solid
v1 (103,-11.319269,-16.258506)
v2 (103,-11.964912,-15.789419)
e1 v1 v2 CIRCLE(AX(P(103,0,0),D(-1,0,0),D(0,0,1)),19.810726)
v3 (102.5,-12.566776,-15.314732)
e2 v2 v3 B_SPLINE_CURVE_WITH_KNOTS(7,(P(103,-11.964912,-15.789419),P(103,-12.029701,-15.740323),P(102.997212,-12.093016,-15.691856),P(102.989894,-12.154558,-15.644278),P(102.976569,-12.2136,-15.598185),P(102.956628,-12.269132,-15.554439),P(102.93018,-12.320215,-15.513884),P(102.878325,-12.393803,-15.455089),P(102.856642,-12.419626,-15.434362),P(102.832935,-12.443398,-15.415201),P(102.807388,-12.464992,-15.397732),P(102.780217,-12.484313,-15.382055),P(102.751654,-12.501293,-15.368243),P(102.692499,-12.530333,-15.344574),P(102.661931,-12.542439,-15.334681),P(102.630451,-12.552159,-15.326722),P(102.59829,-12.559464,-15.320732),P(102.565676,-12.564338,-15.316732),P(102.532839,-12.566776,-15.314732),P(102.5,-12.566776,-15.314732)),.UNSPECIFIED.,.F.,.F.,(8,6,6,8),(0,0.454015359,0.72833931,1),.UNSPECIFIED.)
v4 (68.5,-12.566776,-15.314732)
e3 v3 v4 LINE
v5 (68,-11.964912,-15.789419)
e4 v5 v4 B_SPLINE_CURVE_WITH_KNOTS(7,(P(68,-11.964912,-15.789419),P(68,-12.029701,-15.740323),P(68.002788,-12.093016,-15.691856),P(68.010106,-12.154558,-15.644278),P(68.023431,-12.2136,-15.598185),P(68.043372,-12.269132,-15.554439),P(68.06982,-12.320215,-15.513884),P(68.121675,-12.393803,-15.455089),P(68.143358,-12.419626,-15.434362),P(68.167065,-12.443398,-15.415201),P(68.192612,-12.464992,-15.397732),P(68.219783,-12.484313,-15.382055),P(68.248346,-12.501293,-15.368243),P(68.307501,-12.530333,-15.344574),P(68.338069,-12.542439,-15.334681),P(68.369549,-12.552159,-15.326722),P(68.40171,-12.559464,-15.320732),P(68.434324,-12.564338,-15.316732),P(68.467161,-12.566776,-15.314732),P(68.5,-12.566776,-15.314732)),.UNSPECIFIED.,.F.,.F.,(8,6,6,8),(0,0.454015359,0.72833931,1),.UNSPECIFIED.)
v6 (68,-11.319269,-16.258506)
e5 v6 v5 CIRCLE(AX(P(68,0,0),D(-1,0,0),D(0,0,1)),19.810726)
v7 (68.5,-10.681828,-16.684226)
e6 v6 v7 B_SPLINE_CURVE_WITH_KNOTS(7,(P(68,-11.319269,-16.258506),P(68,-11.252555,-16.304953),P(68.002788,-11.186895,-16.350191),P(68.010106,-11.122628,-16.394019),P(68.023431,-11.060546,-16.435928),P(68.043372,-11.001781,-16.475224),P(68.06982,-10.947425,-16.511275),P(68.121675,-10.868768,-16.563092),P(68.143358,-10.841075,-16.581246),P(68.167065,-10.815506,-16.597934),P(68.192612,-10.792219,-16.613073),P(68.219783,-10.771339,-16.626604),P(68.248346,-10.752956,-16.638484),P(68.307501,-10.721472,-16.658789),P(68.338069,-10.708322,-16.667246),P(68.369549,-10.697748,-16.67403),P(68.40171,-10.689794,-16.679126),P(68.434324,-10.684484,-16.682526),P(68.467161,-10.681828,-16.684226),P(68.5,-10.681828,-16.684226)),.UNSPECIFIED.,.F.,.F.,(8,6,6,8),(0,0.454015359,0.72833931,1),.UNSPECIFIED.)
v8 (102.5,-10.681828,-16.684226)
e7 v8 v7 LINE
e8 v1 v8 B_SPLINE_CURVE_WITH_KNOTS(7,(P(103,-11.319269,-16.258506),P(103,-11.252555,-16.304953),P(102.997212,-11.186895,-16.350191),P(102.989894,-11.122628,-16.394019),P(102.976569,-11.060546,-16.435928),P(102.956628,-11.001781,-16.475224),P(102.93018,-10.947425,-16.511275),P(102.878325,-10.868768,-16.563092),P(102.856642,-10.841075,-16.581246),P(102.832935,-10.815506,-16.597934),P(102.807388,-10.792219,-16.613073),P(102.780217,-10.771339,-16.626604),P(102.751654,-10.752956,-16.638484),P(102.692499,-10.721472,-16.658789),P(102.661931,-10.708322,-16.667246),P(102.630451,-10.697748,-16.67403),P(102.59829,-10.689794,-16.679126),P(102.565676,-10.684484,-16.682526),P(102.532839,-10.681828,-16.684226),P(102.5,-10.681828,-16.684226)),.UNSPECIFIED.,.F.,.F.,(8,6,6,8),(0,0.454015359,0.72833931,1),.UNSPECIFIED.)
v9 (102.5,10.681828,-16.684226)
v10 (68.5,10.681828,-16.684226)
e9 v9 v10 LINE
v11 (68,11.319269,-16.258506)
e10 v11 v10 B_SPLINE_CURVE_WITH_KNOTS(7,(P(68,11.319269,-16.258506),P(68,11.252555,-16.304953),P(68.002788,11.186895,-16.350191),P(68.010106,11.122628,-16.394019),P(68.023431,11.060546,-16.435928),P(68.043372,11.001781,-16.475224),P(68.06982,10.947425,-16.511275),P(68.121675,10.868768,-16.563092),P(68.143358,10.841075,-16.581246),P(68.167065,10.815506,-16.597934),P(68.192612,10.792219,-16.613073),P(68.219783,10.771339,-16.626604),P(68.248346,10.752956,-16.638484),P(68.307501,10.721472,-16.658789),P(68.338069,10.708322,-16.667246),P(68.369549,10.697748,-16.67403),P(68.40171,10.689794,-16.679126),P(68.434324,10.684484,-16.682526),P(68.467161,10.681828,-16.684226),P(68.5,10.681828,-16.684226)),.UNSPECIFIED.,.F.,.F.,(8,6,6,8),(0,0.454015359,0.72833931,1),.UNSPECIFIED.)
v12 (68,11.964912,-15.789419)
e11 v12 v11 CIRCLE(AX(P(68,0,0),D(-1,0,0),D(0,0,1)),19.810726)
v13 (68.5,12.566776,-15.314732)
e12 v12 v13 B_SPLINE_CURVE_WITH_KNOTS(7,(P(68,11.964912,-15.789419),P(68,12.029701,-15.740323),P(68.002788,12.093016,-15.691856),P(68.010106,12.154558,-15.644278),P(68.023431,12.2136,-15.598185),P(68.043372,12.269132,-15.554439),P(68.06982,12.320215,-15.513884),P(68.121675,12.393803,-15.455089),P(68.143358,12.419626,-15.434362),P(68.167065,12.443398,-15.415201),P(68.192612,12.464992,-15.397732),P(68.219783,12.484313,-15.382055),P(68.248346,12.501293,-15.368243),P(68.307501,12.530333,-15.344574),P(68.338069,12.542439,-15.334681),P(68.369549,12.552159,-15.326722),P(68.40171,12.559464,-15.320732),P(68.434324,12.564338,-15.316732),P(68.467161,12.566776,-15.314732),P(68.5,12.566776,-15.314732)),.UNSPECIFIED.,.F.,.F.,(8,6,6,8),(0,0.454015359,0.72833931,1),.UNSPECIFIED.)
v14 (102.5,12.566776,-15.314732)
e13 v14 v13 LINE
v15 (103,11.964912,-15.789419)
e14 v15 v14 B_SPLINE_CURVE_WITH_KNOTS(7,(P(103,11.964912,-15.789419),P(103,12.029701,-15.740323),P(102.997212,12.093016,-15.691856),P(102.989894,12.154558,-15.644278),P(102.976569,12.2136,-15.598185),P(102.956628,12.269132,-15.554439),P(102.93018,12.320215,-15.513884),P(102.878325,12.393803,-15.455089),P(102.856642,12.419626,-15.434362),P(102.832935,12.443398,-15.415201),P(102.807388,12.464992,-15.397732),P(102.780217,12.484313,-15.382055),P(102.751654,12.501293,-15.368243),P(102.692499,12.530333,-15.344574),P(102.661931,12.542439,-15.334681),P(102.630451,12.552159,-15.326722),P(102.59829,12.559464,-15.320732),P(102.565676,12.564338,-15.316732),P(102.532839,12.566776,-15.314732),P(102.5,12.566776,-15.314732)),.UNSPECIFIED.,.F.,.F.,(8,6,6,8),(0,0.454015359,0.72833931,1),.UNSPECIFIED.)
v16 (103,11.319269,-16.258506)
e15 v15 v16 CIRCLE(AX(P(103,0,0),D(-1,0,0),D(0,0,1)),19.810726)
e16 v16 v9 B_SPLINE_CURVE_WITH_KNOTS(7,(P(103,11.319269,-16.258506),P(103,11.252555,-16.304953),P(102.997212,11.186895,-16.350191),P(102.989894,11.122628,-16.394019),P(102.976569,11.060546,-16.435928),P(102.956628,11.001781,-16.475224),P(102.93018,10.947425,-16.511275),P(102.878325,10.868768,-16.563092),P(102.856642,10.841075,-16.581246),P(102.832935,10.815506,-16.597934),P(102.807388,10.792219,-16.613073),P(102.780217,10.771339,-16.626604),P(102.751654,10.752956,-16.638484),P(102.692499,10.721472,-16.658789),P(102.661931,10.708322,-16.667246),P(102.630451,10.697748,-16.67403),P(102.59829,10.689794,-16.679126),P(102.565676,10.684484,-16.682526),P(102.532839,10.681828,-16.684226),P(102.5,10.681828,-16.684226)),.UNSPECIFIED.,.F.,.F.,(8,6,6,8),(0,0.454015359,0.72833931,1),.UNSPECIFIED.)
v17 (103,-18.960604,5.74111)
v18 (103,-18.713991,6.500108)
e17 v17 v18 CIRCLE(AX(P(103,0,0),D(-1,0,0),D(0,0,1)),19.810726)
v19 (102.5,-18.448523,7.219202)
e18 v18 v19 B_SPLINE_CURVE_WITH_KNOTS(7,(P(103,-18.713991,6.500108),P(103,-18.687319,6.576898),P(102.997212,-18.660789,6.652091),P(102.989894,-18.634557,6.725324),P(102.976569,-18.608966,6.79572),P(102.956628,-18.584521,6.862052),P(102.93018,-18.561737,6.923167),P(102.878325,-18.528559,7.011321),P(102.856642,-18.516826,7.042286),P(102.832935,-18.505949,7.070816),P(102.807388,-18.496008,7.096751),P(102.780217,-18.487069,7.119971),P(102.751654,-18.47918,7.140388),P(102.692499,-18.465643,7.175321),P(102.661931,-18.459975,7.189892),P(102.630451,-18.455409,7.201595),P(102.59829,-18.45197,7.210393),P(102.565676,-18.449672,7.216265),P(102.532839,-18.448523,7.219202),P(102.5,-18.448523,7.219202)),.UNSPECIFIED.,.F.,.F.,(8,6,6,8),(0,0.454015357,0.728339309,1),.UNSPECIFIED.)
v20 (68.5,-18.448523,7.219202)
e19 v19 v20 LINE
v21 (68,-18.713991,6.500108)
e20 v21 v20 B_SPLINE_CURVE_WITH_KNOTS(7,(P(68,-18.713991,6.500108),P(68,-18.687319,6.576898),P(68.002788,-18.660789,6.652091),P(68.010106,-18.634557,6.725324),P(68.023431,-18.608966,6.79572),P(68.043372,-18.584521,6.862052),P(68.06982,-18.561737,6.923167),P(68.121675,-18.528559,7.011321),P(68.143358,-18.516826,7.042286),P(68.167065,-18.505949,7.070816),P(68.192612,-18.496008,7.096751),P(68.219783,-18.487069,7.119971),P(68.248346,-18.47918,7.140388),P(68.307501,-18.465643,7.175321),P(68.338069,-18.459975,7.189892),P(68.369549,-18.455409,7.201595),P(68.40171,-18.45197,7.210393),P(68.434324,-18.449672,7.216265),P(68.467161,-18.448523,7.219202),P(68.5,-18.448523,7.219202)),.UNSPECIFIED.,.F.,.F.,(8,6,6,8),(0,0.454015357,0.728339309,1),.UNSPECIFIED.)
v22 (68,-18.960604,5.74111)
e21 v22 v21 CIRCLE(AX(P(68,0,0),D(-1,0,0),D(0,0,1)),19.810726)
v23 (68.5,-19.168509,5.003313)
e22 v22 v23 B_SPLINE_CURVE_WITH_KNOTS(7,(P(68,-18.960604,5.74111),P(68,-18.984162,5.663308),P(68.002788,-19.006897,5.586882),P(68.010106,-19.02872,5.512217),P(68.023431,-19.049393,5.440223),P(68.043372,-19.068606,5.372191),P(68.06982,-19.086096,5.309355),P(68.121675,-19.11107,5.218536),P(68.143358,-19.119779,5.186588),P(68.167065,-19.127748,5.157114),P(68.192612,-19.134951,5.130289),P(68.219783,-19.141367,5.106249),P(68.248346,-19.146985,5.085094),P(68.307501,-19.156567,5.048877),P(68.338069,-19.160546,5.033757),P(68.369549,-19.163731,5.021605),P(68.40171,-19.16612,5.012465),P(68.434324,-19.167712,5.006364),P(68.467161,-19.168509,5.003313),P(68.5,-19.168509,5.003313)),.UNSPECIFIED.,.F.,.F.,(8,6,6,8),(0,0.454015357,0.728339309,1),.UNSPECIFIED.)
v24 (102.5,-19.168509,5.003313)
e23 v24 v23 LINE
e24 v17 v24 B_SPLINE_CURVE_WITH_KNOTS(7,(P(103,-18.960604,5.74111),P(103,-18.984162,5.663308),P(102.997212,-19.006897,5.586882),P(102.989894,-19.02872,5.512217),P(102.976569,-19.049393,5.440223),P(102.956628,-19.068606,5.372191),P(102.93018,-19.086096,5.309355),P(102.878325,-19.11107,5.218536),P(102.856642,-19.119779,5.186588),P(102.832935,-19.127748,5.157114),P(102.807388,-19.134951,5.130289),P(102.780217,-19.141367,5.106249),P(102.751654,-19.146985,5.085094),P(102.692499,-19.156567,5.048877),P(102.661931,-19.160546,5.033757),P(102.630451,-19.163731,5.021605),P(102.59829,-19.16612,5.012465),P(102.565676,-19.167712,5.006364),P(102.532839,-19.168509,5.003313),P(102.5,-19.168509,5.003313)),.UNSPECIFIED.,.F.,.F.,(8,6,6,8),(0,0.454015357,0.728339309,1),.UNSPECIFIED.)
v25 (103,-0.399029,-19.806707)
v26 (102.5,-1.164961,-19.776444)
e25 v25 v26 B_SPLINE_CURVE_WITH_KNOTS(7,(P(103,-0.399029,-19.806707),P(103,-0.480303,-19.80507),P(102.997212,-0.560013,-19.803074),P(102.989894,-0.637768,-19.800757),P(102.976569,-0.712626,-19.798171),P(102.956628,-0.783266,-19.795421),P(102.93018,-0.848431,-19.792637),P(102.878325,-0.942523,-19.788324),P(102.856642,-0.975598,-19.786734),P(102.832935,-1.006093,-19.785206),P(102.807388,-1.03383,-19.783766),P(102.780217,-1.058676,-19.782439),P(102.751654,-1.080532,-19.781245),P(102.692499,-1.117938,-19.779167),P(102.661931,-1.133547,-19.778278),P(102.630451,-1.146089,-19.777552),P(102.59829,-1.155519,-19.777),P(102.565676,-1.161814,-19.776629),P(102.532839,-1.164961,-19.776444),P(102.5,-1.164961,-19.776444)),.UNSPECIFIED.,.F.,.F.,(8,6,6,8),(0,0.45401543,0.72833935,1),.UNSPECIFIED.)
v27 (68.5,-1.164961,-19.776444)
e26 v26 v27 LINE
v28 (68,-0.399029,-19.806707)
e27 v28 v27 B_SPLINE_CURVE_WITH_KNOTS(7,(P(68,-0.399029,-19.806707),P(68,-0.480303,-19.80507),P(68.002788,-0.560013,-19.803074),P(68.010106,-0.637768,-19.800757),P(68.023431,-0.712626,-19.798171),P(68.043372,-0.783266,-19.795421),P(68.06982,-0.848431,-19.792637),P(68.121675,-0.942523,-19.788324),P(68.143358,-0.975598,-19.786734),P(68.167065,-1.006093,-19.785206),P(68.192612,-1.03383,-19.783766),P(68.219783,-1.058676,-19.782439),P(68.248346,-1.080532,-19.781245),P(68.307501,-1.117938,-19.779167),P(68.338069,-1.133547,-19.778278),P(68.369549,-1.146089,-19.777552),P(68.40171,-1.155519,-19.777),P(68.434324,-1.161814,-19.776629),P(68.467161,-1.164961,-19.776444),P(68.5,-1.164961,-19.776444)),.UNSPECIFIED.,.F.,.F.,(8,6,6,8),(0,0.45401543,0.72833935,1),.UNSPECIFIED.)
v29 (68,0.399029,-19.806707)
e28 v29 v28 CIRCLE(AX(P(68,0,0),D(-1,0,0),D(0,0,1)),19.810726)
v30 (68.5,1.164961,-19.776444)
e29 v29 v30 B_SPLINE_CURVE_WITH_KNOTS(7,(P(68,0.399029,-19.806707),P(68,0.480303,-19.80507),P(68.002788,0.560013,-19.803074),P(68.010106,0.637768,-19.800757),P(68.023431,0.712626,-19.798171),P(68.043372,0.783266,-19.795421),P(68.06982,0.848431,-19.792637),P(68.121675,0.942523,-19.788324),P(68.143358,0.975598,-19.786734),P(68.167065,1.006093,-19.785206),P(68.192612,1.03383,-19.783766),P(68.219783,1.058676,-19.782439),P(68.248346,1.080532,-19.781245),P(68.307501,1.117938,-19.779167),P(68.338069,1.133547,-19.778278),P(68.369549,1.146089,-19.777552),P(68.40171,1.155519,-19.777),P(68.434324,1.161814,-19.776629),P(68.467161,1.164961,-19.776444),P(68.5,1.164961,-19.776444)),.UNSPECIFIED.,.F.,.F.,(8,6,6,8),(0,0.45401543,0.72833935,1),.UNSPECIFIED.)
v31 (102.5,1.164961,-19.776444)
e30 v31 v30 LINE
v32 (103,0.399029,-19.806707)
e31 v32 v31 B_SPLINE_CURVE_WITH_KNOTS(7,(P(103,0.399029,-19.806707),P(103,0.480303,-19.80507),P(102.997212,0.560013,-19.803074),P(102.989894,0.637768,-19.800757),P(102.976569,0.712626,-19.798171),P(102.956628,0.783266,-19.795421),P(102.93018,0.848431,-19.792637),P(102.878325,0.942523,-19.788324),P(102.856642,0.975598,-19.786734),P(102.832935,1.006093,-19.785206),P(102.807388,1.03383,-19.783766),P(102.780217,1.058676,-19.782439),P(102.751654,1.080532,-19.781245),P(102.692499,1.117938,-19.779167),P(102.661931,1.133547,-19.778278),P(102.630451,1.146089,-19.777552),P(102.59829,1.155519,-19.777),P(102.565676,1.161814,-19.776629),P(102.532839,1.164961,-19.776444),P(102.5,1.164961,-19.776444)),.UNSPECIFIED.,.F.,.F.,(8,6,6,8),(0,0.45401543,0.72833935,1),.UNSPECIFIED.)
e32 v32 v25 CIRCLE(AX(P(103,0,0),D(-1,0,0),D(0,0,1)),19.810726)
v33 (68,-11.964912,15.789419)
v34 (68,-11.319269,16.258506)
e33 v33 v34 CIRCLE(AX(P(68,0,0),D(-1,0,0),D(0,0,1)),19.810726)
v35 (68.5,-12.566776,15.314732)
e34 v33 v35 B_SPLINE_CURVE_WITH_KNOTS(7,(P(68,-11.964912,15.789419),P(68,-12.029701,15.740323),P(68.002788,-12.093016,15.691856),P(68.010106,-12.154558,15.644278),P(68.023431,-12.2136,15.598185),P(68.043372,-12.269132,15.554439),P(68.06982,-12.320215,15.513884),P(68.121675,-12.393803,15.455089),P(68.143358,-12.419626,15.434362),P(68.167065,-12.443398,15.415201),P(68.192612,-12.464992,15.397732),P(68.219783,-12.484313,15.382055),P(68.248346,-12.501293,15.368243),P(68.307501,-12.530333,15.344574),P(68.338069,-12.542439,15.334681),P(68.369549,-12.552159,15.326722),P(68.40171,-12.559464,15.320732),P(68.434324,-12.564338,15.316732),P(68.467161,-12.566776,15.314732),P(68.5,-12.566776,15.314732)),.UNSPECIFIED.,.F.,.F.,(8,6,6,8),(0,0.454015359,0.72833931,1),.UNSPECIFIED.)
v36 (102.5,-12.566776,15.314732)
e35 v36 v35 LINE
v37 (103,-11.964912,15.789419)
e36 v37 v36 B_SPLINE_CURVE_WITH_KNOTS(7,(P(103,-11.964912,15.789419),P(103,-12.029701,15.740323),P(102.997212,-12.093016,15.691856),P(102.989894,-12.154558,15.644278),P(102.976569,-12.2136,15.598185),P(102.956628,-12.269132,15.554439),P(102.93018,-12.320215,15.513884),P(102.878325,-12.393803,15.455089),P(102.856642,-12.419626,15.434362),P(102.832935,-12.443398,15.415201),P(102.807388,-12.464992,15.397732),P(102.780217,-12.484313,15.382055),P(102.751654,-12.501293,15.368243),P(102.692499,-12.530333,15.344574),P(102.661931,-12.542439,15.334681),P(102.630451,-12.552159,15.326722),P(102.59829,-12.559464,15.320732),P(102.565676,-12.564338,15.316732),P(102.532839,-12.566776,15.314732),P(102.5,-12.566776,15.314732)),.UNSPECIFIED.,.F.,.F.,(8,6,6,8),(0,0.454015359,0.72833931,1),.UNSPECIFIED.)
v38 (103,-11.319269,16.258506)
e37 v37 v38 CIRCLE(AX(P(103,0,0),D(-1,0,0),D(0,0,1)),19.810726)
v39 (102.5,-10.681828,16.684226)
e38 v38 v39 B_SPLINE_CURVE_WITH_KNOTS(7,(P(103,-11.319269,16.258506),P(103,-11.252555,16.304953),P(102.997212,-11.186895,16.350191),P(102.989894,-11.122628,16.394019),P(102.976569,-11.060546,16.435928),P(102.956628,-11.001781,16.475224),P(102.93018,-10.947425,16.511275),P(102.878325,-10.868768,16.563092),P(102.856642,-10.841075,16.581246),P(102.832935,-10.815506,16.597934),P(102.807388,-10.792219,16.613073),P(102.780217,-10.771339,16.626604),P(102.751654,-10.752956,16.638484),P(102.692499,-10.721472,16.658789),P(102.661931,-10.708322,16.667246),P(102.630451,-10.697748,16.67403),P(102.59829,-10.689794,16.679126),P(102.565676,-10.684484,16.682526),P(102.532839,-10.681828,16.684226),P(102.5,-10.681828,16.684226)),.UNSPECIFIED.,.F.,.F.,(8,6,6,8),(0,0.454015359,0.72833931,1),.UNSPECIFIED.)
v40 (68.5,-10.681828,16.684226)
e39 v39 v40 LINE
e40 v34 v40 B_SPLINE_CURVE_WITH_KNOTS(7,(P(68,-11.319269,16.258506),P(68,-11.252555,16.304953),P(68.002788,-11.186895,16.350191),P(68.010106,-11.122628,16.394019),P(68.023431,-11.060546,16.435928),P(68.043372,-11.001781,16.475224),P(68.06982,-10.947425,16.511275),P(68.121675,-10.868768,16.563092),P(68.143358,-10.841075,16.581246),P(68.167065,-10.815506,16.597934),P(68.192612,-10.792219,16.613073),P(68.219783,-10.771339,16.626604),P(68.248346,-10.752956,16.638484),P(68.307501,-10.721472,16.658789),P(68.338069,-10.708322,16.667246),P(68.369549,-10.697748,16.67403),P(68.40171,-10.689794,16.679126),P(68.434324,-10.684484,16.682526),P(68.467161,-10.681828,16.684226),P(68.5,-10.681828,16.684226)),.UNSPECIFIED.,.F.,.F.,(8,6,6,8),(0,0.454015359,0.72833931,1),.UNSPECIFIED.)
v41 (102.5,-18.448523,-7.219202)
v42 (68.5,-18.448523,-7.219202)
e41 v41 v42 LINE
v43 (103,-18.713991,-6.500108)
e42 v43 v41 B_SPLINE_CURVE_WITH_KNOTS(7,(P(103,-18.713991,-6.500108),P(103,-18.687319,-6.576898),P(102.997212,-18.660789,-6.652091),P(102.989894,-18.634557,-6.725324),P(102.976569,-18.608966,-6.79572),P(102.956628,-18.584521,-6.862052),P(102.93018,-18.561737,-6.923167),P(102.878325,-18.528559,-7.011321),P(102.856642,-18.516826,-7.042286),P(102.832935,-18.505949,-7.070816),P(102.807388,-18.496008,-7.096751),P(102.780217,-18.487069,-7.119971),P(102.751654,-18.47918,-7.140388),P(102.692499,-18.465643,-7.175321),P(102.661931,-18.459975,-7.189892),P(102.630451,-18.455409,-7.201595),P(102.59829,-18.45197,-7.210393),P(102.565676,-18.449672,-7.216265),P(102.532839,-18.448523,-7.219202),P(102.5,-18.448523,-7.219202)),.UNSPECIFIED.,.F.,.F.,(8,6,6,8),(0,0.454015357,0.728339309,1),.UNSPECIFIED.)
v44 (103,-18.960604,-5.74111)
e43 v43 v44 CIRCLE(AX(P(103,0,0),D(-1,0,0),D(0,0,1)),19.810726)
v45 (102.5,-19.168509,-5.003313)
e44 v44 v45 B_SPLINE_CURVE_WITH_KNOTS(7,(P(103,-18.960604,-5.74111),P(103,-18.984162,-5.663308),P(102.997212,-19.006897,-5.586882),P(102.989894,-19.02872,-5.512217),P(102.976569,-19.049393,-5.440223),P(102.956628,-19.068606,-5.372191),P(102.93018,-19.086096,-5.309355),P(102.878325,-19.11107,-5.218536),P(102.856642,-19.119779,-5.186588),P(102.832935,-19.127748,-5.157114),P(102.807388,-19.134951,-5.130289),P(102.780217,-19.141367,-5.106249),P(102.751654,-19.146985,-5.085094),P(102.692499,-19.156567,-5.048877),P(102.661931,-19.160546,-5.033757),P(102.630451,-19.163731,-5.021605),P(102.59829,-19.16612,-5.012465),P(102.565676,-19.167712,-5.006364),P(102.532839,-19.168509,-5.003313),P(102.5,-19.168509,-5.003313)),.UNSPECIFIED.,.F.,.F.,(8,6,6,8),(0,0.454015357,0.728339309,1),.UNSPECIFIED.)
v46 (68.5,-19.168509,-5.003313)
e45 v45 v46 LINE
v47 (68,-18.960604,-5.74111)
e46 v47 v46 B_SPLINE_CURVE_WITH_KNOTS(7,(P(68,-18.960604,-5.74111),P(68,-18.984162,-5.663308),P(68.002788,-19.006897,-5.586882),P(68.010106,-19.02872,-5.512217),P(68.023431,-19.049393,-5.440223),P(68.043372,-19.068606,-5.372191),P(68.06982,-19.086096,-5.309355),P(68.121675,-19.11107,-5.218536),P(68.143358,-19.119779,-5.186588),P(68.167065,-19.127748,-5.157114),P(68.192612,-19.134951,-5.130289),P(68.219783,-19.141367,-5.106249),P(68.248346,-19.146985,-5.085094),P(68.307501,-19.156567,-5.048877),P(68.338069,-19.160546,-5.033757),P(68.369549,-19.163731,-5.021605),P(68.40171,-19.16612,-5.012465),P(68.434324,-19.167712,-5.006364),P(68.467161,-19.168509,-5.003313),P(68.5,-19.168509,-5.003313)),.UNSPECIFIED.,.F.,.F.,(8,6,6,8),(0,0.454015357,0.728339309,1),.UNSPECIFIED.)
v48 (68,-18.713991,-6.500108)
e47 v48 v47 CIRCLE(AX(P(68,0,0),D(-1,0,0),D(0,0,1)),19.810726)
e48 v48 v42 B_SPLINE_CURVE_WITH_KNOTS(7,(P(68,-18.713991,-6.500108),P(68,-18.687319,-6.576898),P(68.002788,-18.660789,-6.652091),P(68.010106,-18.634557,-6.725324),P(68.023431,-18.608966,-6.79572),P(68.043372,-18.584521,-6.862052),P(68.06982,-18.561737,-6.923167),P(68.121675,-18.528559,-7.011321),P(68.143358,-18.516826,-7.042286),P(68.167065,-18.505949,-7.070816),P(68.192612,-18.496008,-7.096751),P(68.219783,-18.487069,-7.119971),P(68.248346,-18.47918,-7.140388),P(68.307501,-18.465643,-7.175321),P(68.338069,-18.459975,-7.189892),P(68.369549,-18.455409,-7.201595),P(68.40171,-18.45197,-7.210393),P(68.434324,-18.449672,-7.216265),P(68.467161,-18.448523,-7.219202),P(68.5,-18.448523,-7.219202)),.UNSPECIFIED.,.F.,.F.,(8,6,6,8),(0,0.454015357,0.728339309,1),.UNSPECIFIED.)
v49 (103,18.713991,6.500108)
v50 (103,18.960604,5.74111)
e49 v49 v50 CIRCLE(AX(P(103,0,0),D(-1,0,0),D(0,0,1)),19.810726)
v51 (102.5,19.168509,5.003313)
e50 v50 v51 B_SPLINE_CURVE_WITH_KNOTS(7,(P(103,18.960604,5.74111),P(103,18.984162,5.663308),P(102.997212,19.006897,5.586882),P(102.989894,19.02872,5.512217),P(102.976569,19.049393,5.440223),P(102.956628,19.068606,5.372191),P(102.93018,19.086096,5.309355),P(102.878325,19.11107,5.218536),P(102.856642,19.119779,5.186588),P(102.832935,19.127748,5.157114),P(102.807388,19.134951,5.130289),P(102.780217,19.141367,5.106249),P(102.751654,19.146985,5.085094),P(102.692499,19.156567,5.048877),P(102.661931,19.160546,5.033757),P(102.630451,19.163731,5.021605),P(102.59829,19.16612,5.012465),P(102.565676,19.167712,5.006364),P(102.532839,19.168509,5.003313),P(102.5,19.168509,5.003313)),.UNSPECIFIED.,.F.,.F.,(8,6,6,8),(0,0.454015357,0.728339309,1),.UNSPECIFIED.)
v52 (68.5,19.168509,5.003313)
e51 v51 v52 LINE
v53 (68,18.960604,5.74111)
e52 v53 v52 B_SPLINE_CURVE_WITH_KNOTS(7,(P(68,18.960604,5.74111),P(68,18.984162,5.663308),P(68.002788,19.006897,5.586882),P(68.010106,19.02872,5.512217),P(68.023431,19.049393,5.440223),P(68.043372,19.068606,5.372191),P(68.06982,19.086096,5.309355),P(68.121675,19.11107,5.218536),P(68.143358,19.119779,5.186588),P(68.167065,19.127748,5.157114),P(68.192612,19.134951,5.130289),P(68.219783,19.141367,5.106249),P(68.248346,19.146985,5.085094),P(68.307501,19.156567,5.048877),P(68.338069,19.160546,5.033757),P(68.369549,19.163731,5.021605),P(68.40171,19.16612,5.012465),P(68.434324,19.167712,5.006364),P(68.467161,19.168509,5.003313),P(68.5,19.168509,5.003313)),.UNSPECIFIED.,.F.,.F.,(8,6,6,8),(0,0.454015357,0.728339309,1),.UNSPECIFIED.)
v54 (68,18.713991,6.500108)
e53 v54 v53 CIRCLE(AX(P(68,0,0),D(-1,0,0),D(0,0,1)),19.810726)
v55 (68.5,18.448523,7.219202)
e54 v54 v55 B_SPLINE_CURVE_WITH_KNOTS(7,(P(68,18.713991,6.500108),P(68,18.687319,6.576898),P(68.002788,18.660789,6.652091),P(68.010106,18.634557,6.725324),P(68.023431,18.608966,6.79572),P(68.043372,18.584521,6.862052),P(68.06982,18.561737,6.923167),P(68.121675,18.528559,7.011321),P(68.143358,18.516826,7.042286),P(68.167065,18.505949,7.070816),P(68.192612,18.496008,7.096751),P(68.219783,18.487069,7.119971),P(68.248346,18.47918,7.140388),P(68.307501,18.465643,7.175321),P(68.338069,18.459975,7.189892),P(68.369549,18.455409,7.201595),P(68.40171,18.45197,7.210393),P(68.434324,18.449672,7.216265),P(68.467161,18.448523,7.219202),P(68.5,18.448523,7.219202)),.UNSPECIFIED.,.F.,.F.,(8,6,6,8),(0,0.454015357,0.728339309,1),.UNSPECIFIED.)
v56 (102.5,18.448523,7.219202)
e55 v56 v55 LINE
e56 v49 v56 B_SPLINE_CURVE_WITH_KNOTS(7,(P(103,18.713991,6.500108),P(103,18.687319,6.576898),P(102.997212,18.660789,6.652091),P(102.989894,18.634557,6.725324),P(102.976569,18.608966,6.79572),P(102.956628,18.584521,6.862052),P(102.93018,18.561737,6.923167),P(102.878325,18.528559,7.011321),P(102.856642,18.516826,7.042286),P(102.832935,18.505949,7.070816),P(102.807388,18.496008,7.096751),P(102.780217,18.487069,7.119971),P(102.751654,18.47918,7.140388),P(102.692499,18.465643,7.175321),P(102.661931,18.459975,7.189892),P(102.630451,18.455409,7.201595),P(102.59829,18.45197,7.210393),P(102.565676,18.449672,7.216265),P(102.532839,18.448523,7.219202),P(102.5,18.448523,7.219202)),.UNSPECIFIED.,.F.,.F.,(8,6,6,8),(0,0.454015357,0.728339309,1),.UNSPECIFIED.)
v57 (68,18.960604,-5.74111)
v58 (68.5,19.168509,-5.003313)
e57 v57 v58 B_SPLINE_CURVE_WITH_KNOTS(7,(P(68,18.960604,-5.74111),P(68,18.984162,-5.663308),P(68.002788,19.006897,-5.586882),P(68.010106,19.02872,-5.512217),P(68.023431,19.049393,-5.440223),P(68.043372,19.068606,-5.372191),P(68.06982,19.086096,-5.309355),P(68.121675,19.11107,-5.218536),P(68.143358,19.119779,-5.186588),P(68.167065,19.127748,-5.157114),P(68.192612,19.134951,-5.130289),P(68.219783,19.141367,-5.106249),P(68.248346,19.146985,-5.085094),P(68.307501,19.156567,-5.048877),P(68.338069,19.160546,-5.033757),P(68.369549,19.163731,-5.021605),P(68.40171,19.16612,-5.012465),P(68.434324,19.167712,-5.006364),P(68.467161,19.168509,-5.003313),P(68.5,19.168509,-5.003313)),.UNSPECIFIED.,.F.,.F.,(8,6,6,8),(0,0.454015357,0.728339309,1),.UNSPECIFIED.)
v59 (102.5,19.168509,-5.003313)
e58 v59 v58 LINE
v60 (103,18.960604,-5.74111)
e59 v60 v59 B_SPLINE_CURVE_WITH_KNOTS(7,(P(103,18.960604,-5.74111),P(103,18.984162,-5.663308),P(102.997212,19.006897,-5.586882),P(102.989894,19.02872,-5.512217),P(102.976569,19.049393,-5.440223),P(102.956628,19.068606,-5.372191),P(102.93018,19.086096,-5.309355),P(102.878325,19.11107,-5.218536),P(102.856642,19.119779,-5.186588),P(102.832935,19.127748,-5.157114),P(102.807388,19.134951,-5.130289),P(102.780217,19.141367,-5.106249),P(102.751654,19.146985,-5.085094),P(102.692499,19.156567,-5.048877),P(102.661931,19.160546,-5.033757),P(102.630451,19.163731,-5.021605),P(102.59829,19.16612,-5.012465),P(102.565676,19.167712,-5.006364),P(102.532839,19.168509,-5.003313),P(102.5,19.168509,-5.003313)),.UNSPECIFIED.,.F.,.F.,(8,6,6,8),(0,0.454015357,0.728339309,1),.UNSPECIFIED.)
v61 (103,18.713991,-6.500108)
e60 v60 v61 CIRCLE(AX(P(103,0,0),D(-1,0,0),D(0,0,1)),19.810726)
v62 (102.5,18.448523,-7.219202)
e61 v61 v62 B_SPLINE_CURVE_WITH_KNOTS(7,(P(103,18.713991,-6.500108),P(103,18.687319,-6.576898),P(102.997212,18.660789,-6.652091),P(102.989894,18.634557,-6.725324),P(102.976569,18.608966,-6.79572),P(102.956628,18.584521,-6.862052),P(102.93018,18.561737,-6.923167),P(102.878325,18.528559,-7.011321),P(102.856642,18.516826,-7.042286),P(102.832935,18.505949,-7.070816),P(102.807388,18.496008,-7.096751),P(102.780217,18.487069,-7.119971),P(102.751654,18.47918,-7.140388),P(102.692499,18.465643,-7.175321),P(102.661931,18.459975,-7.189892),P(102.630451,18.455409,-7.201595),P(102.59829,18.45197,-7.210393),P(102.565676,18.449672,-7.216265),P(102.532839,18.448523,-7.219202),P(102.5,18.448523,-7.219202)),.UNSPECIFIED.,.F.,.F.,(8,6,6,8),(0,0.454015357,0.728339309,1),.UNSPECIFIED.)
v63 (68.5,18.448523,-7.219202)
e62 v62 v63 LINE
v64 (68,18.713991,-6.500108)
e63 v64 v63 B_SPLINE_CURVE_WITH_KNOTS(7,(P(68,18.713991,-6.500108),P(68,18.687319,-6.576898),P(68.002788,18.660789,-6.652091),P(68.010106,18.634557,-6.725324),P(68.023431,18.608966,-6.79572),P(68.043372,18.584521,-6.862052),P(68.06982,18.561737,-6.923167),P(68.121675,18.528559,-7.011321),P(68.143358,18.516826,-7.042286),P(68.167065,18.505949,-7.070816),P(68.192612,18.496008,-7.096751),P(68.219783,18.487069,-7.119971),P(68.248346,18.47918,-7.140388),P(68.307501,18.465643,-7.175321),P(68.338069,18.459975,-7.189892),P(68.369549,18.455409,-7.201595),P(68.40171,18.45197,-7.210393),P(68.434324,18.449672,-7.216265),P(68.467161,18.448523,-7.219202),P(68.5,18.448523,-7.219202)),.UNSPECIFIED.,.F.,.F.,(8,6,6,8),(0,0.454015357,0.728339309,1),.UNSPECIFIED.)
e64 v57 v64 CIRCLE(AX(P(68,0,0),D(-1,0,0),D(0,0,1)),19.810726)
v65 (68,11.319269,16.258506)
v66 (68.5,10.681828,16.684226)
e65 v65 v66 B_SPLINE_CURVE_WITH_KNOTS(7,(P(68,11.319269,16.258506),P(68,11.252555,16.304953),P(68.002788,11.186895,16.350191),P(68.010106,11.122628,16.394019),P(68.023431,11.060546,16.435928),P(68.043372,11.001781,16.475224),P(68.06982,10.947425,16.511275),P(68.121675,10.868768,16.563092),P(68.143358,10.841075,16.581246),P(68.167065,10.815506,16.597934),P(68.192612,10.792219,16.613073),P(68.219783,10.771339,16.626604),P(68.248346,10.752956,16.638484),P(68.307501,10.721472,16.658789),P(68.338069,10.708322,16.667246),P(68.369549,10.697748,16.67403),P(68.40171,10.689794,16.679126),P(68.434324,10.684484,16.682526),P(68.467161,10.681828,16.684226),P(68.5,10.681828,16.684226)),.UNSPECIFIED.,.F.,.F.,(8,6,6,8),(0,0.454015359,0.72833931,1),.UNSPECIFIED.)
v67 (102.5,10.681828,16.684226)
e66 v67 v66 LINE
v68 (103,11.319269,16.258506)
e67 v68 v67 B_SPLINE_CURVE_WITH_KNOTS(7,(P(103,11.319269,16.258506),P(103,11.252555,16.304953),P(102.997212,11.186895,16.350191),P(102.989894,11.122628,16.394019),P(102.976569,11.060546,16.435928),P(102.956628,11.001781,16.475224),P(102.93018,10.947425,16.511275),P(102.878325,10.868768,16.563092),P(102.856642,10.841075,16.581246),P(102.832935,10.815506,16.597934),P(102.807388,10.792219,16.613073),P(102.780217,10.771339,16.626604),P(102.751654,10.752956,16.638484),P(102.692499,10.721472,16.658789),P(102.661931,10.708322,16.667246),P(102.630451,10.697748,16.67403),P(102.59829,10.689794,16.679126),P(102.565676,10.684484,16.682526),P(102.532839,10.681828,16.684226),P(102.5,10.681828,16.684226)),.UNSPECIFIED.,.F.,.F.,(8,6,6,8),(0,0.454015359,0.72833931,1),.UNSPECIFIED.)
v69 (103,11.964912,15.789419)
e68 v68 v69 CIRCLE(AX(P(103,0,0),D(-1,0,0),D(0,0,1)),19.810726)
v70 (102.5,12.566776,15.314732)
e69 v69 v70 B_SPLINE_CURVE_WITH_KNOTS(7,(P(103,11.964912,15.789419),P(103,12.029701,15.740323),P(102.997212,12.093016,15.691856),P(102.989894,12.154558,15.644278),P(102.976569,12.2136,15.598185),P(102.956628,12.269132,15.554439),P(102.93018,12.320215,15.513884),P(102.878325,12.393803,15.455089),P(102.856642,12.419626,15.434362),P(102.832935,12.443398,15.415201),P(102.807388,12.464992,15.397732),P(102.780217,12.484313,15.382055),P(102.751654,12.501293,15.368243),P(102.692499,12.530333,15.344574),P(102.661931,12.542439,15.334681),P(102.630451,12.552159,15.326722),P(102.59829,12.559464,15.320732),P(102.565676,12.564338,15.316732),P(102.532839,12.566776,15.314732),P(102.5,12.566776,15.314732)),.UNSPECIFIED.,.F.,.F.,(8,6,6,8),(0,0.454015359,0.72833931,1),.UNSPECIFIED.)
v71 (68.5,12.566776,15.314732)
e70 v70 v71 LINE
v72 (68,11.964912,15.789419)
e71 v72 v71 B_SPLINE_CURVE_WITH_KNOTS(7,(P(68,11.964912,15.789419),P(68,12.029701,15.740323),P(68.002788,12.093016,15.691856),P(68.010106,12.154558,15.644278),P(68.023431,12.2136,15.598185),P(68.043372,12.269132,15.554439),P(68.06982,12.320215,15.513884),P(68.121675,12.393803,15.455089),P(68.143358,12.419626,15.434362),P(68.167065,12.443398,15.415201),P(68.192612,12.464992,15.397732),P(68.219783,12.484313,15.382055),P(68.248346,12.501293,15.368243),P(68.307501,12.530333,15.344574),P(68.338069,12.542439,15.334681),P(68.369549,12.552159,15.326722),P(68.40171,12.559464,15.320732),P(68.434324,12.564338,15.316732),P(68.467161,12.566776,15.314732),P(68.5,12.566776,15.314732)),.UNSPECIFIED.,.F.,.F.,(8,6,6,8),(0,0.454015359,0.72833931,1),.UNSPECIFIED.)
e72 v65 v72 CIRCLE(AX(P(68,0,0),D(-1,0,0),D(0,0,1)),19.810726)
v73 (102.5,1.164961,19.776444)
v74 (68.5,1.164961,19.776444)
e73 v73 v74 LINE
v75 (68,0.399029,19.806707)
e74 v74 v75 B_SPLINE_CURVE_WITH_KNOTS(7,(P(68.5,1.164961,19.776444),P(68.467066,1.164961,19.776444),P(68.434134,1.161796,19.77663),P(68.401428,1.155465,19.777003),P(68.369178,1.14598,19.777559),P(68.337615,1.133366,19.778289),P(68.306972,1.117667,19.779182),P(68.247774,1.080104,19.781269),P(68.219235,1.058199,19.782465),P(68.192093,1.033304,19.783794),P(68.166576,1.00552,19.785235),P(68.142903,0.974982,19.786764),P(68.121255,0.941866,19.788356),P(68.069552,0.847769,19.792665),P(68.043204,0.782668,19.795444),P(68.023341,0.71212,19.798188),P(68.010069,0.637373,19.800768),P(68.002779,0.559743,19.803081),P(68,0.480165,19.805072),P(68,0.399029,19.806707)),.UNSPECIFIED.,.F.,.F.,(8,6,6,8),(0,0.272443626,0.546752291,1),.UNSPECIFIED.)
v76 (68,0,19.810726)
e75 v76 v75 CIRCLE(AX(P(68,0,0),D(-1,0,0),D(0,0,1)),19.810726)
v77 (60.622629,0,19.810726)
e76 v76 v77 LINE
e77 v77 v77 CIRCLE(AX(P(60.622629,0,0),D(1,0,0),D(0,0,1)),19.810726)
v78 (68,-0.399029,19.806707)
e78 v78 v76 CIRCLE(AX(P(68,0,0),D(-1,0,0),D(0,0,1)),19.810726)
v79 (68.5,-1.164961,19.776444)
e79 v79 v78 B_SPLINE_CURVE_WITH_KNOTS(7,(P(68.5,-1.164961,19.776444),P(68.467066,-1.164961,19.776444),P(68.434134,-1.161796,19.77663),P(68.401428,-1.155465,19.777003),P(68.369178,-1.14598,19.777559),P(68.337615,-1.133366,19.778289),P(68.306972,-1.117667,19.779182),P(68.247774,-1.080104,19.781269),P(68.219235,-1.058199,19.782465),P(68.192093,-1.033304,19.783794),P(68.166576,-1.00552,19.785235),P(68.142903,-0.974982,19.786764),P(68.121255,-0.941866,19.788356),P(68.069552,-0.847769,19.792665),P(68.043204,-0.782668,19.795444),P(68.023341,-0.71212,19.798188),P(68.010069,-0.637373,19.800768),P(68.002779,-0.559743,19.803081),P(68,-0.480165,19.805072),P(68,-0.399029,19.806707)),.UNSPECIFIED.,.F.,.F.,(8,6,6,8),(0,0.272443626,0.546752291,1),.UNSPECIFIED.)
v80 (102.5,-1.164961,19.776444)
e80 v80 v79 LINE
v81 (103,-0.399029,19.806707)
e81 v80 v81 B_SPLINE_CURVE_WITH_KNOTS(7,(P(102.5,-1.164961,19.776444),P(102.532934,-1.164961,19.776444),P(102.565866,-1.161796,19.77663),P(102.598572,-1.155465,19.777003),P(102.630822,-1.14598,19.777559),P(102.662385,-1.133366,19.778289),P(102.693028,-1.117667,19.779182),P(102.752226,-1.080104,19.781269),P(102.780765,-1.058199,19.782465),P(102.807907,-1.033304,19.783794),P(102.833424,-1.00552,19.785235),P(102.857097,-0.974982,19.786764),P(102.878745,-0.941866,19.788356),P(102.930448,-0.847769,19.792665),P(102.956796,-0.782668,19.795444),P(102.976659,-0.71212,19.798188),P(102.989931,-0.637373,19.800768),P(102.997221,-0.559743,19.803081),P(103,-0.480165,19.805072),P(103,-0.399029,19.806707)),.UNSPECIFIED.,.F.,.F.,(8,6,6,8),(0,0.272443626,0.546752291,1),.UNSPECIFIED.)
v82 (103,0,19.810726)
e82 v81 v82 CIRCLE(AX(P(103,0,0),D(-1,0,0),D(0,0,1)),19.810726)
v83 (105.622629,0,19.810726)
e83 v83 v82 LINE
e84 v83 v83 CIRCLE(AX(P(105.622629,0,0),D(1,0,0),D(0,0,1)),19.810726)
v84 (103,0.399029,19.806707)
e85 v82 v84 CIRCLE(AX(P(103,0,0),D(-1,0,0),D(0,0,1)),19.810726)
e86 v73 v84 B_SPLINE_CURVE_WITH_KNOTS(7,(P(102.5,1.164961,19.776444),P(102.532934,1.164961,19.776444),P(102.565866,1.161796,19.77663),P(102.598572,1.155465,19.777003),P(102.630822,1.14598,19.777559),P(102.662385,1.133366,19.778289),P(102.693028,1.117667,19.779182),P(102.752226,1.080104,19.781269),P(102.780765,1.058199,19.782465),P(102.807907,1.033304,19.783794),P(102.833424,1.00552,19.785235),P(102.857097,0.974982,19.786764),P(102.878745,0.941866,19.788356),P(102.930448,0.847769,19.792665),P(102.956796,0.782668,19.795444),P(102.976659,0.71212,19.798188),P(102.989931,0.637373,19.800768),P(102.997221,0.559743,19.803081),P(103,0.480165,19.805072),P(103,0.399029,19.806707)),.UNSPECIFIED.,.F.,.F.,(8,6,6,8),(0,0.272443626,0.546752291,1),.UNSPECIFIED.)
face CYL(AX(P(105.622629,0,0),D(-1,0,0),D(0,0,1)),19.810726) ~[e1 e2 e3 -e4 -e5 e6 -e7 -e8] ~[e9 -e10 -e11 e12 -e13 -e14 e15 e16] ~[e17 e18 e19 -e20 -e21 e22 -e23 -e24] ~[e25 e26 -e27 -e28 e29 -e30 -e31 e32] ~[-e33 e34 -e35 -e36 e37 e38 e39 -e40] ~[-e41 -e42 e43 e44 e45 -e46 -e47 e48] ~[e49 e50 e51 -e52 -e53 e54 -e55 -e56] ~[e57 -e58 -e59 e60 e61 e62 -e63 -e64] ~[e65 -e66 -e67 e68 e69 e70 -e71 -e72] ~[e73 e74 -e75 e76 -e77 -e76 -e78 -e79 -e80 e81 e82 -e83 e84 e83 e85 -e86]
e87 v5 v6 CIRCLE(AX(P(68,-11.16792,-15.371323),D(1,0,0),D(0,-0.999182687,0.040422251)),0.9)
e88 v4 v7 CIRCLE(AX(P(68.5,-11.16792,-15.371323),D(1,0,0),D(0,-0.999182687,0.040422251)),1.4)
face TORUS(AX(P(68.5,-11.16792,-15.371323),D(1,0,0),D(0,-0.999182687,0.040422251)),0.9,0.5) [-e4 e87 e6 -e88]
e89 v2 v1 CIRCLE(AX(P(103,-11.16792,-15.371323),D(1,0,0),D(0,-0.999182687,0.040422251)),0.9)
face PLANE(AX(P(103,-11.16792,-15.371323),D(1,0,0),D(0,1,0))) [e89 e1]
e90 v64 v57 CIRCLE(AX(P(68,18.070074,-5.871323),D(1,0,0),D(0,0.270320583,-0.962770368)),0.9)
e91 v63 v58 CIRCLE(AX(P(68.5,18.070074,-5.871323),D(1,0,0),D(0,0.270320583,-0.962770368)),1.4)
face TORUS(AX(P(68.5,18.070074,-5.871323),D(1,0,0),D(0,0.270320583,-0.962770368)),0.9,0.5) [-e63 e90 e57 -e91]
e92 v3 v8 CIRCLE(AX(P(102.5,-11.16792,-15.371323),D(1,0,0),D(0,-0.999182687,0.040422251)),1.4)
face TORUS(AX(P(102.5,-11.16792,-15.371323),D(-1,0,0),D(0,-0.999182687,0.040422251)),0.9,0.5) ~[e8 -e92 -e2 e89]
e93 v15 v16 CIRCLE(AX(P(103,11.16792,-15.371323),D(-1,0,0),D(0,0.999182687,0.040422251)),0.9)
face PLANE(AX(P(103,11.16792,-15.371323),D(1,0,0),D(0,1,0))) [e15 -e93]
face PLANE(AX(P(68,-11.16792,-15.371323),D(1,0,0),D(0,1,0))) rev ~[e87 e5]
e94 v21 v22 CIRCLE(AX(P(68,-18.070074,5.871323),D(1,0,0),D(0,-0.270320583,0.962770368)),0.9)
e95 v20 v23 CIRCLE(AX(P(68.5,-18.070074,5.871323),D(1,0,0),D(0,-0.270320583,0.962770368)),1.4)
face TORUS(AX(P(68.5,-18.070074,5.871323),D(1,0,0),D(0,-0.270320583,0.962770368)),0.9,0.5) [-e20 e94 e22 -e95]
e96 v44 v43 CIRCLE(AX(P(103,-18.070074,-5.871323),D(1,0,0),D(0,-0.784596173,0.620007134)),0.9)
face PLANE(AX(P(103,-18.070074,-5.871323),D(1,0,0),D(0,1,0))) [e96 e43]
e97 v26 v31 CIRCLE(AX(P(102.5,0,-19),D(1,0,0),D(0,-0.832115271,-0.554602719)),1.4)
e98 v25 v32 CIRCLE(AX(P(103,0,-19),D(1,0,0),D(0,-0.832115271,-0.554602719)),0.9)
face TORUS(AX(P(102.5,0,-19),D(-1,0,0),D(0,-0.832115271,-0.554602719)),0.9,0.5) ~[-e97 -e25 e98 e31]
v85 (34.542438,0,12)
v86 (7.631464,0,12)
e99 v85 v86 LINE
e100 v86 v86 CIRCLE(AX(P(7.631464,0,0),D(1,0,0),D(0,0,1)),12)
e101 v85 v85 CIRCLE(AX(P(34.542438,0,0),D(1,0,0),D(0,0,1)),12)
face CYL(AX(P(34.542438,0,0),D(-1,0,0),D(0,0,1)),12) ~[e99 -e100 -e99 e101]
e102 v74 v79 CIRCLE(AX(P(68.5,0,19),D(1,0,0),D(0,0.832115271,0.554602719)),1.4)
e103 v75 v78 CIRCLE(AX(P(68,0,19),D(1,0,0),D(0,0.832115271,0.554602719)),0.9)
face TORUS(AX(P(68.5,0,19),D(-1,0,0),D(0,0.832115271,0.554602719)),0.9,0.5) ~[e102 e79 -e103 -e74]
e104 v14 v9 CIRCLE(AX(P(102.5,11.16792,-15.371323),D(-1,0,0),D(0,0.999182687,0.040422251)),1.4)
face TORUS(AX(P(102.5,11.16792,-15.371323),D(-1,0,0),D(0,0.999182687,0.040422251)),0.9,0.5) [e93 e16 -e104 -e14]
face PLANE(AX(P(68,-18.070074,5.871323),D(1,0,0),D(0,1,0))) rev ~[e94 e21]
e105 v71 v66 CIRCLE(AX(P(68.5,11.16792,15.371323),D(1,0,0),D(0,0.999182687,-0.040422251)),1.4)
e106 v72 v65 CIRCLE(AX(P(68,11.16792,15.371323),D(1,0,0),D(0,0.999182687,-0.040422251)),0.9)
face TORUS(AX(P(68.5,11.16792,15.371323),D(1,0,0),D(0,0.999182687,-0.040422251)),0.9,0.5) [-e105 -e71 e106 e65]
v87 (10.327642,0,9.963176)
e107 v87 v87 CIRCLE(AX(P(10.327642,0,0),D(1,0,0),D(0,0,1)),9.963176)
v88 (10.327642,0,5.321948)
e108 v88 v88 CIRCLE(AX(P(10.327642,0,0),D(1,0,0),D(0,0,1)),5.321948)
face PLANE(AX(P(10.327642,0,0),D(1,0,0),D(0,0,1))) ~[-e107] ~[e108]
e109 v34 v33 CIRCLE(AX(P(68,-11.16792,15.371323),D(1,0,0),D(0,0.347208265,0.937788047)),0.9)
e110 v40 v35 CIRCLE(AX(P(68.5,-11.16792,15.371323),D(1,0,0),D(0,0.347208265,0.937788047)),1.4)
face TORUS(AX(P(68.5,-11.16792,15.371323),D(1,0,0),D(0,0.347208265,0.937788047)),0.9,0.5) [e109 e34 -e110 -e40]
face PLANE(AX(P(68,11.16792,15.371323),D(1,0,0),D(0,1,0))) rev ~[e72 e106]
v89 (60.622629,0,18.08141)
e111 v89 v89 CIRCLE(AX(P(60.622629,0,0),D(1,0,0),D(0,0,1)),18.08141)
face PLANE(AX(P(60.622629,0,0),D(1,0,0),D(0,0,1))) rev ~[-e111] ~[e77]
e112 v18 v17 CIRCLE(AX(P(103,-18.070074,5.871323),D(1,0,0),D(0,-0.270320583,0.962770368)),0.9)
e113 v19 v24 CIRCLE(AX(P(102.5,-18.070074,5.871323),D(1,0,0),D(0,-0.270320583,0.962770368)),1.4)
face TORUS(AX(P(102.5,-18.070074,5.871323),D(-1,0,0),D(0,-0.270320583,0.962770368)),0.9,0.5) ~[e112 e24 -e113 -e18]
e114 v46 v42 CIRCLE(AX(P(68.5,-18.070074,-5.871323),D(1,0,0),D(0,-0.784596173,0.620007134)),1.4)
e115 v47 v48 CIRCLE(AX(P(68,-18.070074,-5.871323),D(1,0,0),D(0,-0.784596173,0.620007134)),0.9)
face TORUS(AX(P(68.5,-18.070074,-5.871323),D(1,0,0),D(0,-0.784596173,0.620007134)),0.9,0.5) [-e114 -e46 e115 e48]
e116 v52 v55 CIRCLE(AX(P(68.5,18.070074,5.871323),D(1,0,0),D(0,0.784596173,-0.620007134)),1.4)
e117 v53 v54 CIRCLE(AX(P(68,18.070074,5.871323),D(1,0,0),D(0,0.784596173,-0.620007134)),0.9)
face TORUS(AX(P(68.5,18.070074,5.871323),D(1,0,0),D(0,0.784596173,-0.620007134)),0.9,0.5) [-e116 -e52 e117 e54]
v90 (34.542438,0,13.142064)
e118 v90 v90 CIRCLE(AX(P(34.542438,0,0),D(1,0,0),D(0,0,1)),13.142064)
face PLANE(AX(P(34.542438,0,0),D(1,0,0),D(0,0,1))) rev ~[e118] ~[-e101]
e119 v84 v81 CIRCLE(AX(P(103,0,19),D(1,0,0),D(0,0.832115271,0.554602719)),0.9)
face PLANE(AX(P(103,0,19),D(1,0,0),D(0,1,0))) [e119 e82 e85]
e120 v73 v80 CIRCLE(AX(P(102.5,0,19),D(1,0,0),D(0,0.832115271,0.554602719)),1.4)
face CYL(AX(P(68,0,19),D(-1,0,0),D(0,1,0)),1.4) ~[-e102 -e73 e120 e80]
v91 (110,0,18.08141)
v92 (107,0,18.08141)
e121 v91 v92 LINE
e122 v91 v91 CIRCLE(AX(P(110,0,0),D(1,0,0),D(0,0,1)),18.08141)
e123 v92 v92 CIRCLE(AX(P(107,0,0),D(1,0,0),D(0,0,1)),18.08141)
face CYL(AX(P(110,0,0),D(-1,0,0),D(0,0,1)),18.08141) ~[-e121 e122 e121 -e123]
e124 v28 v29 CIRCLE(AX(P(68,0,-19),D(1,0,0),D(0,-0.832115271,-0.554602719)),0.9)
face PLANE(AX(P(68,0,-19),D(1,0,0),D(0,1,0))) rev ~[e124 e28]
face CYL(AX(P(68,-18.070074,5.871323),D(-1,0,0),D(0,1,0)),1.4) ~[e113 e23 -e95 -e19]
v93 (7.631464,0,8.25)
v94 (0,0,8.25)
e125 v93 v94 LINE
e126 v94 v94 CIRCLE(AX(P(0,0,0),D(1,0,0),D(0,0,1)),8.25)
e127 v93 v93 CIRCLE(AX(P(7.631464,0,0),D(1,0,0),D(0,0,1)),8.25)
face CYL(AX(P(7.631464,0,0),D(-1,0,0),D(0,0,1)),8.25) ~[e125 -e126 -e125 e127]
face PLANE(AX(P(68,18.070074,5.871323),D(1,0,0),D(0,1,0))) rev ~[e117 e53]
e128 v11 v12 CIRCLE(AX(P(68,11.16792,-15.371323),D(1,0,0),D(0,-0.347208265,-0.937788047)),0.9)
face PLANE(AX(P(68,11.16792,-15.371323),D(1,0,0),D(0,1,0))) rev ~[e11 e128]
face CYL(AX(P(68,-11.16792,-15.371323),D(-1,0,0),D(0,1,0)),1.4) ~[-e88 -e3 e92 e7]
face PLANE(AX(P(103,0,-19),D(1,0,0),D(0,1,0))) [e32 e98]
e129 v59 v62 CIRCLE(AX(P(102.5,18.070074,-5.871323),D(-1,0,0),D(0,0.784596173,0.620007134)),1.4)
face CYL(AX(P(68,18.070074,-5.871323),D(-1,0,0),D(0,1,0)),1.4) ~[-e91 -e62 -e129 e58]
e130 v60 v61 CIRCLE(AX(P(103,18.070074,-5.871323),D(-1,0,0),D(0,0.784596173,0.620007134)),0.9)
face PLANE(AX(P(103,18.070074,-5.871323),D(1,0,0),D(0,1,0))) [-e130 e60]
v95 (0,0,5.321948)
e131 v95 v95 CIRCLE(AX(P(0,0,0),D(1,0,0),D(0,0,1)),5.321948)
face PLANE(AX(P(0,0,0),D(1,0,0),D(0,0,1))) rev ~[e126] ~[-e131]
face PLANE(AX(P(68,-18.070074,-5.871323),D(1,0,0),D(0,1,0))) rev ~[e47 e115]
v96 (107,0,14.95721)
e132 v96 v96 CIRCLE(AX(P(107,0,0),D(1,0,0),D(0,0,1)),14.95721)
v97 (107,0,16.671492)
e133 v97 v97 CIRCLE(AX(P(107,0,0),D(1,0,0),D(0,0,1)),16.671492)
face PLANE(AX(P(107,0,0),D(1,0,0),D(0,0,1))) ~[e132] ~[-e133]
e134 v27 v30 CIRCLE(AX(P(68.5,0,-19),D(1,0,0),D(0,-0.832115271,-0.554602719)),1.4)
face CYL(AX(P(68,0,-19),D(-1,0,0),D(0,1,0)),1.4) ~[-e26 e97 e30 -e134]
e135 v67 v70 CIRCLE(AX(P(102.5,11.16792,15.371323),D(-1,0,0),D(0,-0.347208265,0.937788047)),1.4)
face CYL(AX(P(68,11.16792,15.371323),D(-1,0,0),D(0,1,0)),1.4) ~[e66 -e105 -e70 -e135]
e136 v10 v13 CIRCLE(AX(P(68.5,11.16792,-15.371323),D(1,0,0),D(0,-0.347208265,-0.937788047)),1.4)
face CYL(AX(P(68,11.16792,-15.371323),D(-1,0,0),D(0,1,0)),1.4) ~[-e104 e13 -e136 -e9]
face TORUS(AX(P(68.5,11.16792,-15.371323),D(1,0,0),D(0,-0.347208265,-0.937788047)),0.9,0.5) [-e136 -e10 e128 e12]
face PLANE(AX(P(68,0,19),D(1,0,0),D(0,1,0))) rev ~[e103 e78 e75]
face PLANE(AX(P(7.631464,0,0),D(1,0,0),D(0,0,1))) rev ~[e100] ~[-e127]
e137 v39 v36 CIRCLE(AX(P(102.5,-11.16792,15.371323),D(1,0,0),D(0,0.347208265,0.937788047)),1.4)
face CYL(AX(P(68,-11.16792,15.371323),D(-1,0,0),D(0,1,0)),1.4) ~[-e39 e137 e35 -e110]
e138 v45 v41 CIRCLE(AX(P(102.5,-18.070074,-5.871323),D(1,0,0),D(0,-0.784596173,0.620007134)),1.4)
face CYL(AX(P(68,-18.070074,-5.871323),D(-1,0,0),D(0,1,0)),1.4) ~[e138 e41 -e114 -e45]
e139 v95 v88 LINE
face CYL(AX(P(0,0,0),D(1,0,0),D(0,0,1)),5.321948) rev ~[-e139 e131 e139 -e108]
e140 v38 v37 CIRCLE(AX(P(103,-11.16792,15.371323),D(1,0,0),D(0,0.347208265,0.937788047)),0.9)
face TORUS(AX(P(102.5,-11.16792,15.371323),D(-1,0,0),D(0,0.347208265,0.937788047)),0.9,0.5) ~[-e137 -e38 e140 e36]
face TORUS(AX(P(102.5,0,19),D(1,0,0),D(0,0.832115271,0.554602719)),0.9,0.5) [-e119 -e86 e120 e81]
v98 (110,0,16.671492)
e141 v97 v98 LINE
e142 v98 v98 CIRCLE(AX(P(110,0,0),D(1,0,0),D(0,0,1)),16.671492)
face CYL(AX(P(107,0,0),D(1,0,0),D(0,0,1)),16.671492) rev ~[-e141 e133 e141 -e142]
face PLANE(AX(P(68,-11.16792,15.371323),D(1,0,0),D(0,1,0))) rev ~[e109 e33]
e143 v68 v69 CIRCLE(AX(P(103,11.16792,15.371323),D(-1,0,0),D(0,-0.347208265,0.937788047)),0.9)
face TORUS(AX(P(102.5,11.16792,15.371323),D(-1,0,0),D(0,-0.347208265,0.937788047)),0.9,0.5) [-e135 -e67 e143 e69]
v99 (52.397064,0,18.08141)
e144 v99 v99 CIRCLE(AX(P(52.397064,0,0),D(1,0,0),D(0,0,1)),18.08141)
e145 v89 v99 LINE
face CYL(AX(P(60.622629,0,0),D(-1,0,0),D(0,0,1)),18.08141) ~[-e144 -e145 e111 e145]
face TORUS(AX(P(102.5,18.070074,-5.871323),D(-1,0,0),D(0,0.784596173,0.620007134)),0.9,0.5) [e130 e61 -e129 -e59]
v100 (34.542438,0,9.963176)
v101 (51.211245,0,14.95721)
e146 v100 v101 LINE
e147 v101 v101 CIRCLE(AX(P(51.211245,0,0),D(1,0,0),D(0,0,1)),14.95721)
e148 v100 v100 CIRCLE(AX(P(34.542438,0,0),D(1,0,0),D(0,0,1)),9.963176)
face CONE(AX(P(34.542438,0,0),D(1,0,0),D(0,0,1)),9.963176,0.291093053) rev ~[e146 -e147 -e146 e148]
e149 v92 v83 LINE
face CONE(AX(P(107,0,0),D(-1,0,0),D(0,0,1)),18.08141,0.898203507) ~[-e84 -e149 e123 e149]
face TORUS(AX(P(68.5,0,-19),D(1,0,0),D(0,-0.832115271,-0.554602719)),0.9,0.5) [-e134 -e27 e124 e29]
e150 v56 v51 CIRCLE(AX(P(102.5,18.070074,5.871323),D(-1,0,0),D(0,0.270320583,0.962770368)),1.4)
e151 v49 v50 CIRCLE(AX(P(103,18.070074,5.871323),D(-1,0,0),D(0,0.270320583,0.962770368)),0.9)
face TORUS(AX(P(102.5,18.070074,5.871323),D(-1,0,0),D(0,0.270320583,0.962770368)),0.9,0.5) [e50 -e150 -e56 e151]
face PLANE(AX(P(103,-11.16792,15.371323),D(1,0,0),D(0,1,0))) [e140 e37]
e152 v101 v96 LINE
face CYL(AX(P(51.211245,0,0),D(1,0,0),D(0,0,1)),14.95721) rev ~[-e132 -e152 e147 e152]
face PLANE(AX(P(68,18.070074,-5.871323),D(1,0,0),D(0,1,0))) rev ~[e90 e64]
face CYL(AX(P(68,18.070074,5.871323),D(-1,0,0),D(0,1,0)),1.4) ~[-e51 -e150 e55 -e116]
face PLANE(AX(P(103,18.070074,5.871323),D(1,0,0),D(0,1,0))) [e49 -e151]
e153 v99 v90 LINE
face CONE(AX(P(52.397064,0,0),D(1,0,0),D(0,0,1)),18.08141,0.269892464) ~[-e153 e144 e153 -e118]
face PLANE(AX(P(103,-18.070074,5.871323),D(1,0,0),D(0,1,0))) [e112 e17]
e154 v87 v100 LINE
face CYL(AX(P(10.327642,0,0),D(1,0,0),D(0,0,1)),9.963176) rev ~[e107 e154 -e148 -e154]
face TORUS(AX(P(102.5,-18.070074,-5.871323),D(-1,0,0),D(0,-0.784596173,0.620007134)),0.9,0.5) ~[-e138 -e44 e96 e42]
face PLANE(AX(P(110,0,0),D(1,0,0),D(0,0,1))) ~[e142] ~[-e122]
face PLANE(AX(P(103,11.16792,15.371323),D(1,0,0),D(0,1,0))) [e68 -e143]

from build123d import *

# Parameters (mm, degrees)
F3_R     = 1.4
F4_DEPTH = 35
F5_R     = 0.5


with BuildPart() as f1:
    # F0 (on Front) → F1 (revolve)
    with BuildSketch(Plane.XZ):
        Polygon((0, 8.25), (0, 5.321948), (10.327642, 5.321948), (10.327642, 9.963176), (34.542438, 9.963176), (51.211245, 14.95721), (107, 14.95721), (107, 16.671492), (110, 16.671492), (110, 18.08141), (107, 18.08141), (105.622629, 19.810726), (60.622629, 19.810726), (60.622629, 18.08141), (52.397064, 18.08141), (34.542438, 13.142064), (34.542438, 12), (17.472045, 12), (7.631464, 12), (7.631464, 8.25), align=None)
    revolve(axis=Axis((72.581306, 0, 0), (1, 0, 0)))

    # F3 (on offset) → F4 (join)
    with BuildSketch(Plane.YZ.offset(68)):
        with Locations((0, 19)):
            Circle(F3_R)
        with Locations((-11.16792, 15.371323)):
            Circle(F3_R)
        with Locations((-18.070074, 5.871323)):
            Circle(F3_R)
        with Locations((-18.070074, -5.871323)):
            Circle(F3_R)
        with Locations((-11.16792, -15.371323)):
            Circle(F3_R)
        with Locations((0, -19)):
            Circle(F3_R)
        with Locations((11.16792, -15.371323)):
            Circle(F3_R)
        with Locations((18.070074, -5.871323)):
            Circle(F3_R)
        with Locations((18.070074, 5.871323)):
            Circle(F3_R)
        with Locations((11.16792, 15.371323)):
            Circle(F3_R)
    extrude(amount=F4_DEPTH)

    # F5
    f5_edges = [f1.edges().sort_by_distance(p)[0] for p in [
        (103, 0, 20.4),
        (103, 11.990819, 16.503947),
        (103, -11.990819, 16.503947),
        (103, -19.401553, 6.303947),
        (103, -19.401553, -6.303947),
        (103, -11.990819, -16.503947),
        (103, 0, -20.4),
        (103, 11.990819, -16.503947),
        (103, 19.401553, -6.303947),
        (103, 19.401553, 6.303947),
        (68, 11.990819, 16.503947),
        (68, 19.401553, 6.303947),
        (68, 19.401553, -6.303947),
        (68, 11.990819, -16.503947),
        (68, 0, -20.4),
        (68, -11.990819, -16.503947),
        (68, -19.401553, -6.303947),
        (68, 0, 20.4),
        (68, -11.990819, 16.503947),
        (68, -19.401553, 6.303947),
    ]]
    fillet(f5_edges, radius=F5_R)


solid = f1.part
